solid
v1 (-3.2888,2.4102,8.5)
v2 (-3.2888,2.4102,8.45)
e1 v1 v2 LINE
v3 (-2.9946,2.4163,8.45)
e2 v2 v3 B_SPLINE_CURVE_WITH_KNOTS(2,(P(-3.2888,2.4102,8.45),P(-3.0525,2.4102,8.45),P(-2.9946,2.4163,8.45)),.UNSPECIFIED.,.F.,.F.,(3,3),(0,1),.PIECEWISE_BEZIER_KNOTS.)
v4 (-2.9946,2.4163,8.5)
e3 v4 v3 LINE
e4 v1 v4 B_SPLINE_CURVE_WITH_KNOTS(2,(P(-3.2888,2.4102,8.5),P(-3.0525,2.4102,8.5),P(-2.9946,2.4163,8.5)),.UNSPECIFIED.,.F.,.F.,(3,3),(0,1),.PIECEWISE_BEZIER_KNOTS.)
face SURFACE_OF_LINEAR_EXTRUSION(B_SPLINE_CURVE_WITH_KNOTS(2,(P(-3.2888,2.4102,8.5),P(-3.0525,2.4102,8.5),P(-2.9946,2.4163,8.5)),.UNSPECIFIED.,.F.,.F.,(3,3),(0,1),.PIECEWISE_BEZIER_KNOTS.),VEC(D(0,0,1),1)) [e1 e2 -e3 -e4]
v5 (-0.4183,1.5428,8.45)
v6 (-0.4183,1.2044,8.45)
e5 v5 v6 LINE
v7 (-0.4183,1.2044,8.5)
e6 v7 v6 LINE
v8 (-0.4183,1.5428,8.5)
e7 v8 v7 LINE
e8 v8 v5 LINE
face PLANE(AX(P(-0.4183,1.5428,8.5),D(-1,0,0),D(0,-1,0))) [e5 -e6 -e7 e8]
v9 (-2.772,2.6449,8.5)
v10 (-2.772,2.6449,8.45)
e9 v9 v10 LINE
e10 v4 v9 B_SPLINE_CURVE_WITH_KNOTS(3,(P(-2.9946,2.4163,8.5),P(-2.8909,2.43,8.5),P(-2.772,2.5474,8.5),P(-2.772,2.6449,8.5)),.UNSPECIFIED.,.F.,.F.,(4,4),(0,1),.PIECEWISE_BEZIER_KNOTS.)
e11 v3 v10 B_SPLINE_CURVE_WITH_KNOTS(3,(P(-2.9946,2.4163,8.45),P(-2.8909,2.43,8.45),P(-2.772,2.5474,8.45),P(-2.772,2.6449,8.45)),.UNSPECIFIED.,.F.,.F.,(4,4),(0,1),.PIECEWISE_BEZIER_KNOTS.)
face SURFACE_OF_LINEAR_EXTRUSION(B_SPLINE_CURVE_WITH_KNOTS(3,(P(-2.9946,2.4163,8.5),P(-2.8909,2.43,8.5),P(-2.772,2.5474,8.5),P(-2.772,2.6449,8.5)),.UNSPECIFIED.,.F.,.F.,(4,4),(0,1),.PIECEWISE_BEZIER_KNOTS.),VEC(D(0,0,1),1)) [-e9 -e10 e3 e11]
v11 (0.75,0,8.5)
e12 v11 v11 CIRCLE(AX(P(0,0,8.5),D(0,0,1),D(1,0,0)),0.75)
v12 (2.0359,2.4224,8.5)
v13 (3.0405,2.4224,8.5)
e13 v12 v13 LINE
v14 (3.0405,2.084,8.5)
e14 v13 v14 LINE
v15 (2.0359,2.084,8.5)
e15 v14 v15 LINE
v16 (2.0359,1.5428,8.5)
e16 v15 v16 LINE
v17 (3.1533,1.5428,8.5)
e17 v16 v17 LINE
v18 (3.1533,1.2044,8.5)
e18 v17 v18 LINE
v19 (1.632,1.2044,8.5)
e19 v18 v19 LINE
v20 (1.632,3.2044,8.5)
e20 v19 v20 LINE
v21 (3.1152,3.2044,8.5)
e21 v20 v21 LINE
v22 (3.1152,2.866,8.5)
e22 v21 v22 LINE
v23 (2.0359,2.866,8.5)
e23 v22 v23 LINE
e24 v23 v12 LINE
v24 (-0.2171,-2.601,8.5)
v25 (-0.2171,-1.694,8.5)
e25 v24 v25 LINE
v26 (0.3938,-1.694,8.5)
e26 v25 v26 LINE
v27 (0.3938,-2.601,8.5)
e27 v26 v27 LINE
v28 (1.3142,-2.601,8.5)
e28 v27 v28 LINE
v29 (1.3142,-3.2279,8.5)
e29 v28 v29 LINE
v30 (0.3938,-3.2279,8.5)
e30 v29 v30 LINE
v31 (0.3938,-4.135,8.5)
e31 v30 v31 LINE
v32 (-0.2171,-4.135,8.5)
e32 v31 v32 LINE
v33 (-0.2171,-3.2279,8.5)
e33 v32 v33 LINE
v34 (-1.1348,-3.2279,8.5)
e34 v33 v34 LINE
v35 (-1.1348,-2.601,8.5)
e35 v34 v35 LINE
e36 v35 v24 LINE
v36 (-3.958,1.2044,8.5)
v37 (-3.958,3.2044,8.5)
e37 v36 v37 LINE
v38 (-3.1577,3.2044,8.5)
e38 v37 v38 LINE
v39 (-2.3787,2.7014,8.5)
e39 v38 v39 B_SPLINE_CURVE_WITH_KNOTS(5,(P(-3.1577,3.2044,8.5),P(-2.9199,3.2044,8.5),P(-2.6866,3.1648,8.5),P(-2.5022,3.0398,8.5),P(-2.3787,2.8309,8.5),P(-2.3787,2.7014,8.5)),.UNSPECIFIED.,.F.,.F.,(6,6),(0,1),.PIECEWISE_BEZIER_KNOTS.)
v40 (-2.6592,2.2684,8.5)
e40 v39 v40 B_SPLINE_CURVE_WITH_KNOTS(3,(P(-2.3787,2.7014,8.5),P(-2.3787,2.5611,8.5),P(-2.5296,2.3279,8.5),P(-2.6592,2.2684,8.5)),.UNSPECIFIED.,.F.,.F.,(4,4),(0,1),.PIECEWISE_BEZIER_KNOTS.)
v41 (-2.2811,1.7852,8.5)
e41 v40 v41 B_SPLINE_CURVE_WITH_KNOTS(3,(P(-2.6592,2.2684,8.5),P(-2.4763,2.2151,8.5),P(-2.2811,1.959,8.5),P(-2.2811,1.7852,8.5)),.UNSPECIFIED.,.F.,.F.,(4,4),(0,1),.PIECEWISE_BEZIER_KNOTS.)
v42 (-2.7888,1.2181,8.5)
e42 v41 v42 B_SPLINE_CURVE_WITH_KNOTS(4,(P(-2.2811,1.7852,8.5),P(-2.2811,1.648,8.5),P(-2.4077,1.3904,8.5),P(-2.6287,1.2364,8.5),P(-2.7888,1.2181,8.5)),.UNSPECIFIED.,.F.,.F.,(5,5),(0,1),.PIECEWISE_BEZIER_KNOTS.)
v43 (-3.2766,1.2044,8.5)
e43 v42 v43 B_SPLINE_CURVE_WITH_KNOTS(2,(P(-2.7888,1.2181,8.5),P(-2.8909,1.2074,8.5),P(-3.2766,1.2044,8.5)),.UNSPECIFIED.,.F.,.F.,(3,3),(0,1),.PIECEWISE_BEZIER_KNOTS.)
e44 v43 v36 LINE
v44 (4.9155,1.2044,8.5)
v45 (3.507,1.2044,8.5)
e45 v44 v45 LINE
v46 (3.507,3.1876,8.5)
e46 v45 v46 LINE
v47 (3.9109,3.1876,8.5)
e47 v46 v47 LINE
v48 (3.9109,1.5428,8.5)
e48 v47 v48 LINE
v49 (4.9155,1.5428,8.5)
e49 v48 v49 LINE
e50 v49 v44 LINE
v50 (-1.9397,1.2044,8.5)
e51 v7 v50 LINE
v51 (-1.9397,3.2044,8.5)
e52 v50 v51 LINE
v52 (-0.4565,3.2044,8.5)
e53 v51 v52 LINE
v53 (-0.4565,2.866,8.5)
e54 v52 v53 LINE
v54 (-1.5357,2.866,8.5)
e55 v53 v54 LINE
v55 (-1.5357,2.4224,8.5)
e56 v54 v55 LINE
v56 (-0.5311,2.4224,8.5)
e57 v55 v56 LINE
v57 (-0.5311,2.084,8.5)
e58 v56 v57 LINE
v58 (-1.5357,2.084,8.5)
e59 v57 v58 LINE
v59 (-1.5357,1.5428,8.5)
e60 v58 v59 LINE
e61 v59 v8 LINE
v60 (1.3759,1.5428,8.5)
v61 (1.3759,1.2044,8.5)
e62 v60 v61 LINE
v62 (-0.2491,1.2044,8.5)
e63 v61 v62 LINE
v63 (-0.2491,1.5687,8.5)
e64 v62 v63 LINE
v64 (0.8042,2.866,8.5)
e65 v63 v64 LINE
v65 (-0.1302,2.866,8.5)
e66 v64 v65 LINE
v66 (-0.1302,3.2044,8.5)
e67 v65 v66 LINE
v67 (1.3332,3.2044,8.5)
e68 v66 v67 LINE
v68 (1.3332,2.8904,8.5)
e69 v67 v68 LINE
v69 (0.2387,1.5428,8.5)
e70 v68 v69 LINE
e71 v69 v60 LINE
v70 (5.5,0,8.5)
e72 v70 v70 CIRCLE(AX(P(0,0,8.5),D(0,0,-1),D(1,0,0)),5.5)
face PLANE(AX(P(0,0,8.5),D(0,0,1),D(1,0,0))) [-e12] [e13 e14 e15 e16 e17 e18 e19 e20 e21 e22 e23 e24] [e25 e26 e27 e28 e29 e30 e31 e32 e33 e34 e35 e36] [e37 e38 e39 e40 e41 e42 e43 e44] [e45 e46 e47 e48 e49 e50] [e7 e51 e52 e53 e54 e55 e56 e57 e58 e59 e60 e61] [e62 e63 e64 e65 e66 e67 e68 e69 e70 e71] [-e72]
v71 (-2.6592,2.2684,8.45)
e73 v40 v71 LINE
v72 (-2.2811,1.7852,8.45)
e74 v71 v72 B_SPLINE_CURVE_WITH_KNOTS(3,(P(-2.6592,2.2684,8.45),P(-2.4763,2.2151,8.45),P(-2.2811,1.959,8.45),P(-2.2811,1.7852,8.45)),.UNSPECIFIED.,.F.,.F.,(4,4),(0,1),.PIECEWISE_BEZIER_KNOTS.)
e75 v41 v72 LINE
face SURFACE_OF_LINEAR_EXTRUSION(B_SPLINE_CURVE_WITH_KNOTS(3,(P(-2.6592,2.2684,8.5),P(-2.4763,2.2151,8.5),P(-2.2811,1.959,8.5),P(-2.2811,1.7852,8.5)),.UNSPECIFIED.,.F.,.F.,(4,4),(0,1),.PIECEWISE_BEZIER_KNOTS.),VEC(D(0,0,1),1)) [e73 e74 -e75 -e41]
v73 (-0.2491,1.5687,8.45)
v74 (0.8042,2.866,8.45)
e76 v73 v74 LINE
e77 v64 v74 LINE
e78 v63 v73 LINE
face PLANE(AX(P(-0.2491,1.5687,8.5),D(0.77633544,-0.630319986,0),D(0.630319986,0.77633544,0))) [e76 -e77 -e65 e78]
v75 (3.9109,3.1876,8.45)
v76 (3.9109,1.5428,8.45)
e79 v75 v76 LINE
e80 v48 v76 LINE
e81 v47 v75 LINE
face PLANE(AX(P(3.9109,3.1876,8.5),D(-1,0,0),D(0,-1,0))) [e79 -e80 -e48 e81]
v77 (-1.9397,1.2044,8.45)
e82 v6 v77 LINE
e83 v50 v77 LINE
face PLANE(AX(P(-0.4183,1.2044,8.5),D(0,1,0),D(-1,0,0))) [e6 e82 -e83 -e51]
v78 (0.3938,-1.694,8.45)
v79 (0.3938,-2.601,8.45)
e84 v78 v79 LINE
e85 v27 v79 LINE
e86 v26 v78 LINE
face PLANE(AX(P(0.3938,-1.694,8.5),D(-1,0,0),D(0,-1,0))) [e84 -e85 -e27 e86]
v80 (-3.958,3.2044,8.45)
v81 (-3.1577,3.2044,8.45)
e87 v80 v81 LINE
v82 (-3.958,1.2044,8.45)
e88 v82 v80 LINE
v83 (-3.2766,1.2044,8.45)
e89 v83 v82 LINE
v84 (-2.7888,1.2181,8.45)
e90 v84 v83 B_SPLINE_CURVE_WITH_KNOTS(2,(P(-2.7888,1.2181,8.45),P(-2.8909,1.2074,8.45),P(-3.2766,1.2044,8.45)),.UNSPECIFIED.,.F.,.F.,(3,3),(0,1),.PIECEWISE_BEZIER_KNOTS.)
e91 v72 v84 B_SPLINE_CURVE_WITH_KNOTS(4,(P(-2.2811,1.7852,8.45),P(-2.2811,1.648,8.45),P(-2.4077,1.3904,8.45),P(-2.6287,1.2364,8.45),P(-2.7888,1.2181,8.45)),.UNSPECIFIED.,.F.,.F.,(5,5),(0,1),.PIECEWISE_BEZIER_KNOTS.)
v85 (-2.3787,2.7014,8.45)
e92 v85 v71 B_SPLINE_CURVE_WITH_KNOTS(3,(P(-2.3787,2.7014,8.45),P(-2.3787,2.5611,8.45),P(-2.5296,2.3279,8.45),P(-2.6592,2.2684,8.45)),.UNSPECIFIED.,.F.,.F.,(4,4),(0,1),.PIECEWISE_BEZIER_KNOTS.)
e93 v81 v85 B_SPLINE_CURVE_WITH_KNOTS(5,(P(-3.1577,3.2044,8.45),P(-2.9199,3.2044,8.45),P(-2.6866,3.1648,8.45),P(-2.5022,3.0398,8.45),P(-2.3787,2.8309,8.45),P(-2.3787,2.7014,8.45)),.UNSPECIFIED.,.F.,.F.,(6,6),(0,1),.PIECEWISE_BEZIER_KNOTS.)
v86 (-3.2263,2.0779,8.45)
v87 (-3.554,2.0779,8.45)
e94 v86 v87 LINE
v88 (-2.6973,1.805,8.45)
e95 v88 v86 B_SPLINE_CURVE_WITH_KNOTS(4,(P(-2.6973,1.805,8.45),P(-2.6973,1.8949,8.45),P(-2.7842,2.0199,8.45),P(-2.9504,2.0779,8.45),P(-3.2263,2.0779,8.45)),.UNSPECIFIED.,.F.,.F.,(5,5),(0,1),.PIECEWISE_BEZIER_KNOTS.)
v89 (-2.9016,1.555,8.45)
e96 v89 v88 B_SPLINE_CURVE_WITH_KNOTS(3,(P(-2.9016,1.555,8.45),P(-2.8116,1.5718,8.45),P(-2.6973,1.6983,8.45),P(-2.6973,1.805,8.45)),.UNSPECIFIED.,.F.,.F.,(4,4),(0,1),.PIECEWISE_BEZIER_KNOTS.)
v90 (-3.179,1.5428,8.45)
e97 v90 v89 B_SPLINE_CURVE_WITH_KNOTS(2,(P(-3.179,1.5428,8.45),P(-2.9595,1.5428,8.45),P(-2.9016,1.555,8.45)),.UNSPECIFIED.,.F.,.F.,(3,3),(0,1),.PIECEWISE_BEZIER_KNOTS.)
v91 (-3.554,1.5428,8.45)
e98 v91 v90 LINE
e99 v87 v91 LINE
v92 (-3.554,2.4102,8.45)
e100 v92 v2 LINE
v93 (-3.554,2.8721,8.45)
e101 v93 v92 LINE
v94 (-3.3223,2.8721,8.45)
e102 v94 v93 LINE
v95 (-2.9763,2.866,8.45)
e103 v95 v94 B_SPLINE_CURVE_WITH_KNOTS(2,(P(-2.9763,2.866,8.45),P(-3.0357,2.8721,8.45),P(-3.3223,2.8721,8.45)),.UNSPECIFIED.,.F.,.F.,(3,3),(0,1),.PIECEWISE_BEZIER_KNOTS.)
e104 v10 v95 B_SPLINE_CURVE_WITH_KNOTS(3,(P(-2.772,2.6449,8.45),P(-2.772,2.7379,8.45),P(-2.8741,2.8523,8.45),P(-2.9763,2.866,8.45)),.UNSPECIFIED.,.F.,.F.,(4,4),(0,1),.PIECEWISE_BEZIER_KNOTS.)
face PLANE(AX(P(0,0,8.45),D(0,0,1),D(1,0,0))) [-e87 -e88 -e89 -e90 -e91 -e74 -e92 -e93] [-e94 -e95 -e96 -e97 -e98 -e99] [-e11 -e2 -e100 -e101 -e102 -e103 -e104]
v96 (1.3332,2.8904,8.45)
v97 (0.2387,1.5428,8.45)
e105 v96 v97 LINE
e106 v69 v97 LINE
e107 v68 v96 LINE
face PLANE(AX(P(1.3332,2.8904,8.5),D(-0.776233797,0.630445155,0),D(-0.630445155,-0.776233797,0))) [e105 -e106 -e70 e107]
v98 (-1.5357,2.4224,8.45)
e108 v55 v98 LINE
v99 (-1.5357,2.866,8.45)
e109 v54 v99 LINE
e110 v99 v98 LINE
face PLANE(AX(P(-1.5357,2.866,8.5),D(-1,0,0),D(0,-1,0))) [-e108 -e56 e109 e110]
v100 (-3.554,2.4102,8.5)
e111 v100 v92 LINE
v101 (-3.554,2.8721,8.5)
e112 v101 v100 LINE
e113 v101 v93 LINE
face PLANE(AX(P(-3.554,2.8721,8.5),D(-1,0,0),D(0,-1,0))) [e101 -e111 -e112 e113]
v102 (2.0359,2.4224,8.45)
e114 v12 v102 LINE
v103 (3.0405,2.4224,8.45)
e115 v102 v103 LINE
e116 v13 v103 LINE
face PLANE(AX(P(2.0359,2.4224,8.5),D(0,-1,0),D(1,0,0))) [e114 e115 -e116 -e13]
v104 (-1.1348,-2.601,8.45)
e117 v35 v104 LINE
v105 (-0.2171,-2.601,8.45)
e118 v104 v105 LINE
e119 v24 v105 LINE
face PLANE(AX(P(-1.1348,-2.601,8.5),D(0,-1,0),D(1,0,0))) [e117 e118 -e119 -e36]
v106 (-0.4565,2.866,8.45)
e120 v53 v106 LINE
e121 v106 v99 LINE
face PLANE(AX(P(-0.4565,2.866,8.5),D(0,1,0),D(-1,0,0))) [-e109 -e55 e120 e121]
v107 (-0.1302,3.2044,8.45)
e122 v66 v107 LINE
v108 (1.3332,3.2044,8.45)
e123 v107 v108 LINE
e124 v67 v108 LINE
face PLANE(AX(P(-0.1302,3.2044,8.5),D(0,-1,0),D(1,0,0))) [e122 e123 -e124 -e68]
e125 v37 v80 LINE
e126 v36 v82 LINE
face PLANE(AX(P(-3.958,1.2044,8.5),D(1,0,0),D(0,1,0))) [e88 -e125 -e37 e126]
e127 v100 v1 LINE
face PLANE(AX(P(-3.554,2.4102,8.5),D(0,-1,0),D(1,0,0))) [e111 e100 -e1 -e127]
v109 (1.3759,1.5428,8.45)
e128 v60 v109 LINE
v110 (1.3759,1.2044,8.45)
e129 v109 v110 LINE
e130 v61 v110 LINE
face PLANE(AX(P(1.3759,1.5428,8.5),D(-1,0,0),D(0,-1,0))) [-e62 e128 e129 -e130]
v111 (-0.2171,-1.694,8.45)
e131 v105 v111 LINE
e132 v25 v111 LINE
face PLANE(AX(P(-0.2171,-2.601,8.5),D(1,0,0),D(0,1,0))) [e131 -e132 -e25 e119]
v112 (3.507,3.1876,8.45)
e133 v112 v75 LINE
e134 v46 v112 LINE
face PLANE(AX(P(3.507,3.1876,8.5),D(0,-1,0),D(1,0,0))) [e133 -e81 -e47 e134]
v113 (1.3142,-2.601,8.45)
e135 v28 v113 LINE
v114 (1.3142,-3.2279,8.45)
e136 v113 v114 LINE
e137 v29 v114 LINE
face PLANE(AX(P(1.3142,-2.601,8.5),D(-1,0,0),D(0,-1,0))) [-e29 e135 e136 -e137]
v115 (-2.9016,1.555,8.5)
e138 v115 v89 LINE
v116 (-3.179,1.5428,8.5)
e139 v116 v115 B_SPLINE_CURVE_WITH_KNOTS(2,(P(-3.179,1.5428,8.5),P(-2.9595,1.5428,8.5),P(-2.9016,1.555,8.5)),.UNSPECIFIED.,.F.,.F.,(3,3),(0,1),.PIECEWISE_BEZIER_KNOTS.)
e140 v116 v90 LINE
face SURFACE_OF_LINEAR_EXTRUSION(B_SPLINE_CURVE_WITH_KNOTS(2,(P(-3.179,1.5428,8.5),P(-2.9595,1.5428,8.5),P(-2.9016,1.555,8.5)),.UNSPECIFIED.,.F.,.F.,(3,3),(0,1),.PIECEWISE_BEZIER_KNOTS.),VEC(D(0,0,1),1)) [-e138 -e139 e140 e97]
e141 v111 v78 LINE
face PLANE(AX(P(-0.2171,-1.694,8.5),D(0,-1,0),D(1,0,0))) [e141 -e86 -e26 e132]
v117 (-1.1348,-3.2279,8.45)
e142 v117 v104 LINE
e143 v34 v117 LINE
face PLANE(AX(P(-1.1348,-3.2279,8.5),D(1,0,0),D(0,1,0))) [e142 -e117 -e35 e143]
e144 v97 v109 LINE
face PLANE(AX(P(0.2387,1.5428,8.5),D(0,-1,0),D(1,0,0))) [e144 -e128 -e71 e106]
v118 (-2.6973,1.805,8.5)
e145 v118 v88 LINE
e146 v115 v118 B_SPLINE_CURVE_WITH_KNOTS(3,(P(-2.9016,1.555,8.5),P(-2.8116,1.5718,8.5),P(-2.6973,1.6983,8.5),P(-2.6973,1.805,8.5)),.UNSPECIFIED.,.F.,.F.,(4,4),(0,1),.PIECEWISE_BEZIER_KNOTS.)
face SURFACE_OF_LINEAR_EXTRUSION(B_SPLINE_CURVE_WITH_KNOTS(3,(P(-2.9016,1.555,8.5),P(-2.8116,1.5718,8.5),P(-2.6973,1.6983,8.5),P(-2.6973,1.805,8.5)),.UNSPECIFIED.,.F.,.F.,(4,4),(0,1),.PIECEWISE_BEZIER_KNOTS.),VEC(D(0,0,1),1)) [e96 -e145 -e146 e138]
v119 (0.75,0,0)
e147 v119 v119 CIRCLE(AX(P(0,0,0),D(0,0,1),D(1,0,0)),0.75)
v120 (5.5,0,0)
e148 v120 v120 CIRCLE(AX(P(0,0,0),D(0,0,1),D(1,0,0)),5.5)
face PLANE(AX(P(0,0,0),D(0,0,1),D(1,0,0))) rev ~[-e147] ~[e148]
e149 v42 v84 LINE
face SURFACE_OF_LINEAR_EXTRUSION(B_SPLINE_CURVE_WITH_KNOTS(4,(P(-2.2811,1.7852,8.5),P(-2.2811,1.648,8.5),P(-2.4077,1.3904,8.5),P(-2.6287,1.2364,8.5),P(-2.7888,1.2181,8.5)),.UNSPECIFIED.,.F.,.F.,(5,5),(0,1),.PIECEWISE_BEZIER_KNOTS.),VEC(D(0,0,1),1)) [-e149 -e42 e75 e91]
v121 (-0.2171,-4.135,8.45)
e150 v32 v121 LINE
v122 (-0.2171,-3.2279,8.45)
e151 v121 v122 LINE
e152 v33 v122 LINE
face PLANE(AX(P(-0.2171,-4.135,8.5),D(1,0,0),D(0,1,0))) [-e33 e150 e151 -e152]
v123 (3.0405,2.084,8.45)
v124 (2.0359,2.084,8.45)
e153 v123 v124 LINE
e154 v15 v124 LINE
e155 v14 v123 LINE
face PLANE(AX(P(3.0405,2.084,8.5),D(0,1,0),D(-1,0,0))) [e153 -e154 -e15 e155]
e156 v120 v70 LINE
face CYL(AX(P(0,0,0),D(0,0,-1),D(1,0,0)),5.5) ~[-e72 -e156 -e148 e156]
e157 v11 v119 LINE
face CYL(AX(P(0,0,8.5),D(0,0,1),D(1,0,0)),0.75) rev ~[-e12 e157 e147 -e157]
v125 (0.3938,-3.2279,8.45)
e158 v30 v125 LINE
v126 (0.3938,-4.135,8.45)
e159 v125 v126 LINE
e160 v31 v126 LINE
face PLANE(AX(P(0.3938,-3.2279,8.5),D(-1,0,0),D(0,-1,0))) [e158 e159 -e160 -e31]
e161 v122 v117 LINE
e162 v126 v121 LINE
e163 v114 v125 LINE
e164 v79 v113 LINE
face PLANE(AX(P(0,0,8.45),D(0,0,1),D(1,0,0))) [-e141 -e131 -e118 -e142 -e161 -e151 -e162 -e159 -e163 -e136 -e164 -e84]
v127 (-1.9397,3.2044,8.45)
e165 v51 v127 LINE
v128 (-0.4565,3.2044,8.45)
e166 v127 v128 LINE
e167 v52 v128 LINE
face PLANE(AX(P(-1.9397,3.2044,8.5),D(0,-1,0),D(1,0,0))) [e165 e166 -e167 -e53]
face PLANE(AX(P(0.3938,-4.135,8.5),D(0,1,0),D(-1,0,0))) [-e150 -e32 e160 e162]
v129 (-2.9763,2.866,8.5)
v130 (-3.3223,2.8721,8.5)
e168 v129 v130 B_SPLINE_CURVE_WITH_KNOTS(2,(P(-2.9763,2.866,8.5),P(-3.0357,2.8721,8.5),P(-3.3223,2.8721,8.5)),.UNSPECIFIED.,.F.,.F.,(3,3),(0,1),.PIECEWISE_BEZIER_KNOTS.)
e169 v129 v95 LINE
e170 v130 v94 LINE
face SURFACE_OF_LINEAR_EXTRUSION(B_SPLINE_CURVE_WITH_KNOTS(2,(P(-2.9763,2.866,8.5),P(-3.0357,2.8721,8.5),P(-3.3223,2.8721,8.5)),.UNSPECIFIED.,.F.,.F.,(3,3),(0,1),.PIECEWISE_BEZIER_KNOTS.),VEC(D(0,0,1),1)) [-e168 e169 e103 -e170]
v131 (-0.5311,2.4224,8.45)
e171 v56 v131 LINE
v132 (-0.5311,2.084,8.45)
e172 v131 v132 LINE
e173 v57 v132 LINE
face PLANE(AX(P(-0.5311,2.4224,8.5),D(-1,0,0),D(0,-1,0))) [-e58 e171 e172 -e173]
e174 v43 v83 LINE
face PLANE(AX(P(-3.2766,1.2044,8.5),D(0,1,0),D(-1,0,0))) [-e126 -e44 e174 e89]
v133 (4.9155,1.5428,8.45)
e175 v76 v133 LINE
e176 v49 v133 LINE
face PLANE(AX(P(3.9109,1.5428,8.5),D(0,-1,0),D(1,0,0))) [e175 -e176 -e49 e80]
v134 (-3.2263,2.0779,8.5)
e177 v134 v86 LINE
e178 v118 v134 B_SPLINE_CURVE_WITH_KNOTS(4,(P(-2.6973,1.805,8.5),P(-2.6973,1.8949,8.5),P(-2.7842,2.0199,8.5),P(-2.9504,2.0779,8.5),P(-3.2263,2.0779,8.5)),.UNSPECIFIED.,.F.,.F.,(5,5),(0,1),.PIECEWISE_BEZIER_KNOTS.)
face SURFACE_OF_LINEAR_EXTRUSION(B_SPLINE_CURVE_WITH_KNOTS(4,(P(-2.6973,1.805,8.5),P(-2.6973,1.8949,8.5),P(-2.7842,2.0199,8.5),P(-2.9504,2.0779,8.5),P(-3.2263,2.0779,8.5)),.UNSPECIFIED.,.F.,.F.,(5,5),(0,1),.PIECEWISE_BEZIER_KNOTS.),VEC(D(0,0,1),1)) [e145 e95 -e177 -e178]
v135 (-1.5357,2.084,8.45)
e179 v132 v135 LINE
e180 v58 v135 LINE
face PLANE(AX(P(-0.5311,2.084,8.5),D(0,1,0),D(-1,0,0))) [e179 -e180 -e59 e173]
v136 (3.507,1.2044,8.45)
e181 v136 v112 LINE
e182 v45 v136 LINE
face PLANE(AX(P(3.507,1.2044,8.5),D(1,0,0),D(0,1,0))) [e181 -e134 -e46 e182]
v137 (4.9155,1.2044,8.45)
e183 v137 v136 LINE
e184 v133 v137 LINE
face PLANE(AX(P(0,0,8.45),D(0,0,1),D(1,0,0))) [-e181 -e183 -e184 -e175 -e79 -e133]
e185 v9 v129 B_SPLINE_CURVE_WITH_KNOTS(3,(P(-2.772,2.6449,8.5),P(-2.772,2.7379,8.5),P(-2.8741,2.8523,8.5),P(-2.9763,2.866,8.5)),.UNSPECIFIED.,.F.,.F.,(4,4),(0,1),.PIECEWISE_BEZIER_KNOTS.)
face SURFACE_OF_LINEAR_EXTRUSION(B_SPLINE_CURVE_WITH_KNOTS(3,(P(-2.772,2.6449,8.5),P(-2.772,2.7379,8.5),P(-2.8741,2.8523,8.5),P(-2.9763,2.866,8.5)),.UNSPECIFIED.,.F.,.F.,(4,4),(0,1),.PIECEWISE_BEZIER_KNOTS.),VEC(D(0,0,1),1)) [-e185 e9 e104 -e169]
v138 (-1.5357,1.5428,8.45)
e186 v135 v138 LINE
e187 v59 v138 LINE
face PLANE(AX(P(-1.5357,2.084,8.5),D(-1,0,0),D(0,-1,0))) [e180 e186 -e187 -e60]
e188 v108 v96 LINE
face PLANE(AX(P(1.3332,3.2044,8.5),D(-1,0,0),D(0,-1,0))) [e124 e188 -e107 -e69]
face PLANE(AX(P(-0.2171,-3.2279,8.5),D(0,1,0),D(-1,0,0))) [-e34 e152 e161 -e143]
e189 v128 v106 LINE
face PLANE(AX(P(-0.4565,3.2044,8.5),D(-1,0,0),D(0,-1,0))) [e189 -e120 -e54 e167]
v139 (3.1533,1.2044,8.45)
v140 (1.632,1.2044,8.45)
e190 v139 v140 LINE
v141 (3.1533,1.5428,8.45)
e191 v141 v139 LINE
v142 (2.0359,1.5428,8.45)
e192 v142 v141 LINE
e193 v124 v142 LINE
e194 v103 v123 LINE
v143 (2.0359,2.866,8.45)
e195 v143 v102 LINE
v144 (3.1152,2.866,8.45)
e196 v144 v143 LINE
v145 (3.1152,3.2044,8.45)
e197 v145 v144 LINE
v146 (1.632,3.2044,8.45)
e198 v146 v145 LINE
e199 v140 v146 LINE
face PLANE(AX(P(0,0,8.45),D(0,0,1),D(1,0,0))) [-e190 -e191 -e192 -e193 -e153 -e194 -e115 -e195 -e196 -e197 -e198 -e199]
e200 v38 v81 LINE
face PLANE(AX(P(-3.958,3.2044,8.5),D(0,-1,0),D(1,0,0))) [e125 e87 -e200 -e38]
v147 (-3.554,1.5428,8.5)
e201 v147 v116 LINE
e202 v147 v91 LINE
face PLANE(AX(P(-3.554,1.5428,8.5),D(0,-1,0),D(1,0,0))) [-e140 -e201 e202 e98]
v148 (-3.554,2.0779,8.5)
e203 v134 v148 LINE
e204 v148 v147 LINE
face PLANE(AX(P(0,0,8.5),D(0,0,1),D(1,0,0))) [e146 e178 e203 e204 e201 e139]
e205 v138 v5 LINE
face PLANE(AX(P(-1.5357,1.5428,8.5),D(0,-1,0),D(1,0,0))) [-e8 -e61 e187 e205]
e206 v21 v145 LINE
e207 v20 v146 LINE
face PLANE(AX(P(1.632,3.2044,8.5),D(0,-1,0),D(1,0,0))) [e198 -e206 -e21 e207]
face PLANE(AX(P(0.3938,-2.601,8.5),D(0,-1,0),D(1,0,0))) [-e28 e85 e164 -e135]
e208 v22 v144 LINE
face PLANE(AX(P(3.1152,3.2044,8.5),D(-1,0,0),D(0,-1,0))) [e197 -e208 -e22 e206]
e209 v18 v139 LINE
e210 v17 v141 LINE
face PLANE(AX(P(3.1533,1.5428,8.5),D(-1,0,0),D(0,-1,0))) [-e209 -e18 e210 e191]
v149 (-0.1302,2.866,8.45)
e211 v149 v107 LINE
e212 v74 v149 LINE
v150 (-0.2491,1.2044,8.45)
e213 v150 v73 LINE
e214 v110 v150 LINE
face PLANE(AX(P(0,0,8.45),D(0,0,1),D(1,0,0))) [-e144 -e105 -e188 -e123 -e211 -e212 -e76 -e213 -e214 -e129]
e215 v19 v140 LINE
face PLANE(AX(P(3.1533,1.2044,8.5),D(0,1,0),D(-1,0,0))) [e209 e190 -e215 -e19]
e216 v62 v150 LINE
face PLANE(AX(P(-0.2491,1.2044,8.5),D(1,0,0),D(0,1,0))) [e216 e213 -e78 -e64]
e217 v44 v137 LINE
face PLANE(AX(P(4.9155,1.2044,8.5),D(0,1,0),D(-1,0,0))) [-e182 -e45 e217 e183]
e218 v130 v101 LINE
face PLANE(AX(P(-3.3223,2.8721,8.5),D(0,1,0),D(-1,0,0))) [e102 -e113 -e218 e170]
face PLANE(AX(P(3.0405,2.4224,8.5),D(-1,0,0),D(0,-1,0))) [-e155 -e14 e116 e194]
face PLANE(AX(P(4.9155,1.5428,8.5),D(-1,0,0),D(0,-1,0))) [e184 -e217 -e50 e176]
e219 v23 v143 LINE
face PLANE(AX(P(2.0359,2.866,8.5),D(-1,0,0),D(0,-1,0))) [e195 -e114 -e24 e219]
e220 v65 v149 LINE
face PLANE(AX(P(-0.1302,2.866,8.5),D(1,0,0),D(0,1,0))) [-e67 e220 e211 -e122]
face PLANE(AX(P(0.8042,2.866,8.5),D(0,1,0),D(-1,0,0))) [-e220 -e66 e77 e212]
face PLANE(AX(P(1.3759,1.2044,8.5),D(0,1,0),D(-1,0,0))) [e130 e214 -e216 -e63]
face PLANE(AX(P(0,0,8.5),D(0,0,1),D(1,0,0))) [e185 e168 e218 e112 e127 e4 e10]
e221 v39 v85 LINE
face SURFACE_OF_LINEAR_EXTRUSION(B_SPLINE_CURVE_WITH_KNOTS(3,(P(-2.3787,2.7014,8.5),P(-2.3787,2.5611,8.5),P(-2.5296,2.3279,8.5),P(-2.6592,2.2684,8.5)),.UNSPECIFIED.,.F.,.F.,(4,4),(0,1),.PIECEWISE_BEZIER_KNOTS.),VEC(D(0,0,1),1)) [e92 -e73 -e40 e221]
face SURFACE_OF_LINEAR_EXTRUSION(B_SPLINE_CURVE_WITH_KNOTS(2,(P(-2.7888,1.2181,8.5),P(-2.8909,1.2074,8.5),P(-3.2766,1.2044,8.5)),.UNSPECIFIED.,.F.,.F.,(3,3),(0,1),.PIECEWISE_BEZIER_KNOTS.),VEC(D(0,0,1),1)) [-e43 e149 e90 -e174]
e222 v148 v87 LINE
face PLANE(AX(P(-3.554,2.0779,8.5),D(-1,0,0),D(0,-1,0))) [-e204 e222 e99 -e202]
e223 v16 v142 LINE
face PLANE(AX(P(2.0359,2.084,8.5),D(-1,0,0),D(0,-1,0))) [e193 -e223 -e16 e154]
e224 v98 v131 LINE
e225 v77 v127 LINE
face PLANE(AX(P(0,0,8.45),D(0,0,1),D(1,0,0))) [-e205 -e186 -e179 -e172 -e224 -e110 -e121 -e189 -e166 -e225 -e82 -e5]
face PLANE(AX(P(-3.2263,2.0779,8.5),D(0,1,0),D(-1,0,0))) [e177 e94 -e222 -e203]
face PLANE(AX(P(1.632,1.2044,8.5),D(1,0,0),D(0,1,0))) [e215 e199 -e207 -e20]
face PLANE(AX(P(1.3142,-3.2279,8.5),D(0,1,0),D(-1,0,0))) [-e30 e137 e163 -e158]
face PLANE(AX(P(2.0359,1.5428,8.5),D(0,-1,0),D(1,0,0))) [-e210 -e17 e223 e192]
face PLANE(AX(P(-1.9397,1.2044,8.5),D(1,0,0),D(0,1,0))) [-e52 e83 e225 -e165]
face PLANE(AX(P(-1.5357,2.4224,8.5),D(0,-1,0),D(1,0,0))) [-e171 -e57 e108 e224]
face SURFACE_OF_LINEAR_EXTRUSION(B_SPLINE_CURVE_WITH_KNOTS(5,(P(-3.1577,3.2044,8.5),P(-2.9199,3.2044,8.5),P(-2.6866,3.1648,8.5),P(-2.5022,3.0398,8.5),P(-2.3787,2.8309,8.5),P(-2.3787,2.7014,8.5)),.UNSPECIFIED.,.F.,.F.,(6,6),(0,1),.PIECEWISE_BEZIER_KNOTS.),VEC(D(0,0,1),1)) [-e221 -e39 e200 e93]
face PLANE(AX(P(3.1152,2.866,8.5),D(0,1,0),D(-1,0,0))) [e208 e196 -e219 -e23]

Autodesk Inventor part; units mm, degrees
ref_plane "YZ Plane" through (0, 0, 0) normal (1, 0, 0) x (0, 1, 0)
ref_plane "XZ Plane" through (0, 0, 0) normal (0, 1, 0) x (-1, 0, 0)
ref_plane "XY Plane" through (0, 0, 0) normal (0, 0, 1) x (1, 0, 0)
sketch "Sketch1" plane through (0, 0, 0) normal (0, 0, 1) x (1, 0, 0)
  line L0 (0, 8.8) -> (0, -6.6) projected
  line L1 (-6.6, 0) -> (8.8, 0) projected
  circle A0 centre (0, 0) radius 5.5
  dimension "d0" = 11
extrude "Extrusion1" add sketch "Sketch1" along normal blind 8.5
sketch "Sketch2" plane through (0, 0, 8.5) normal (0, 0, 1) x (1, 0, 0)
  circle A0 centre (0, 0) radius 5.5 projected
  circle A1 centre (0, 0) radius 0.75
  dimension "d3" = 1.5
extrude "Extrusion2" cut sketch "Sketch2" against normal through all contours A1
sketch "Sketch3" plane through (0, 0, 8.5) normal (0, 0, 1) x (1, 0, 0)
  line L0 (-4.1622, 3.2044) -> (11.3317, 3.2044) construction
  line L1 (11.3317, 3.2044) -> (11.3317, -0.2956) construction
  line L2 (11.3317, -0.2956) -> (-4.1622, -0.2956) construction
  line L3 (-4.1622, -0.2956) -> (-4.1622, 3.2044) construction
  line L4 (-1.3375, -1.694) -> (1.5169, -1.694) construction
  line L5 (1.5169, -1.694) -> (1.5169, -4.135) construction
  line L6 (1.5169, -4.135) -> (-1.3375, -4.135) construction
  line L7 (-1.3375, -4.135) -> (-1.3375, -1.694) construction
  line L8 (-3.958, 3.2044) -> (-3.1577, 3.2044)
  spline S0 degree 5 poles (-3.1577, 3.2044) (-2.9199, 3.2044) (-2.6866, 3.1648) (-2.5022, 3.0398) (-2.3787, 2.8309) (-2.3787, 2.7014) knots 0 0 0 0 0 0 1 1 1 1 1 1
  spline S1 degree 3 poles (-2.3787, 2.7014) (-2.3787, 2.5611) (-2.5296, 2.3279) (-2.6592, 2.2684) knots 0 0 0 0 1 1 1 1
  spline S2 degree 3 poles (-2.6592, 2.2684) (-2.4763, 2.2151) (-2.2811, 1.959) (-2.2811, 1.7852) knots 0 0 0 0 1 1 1 1
  spline S3 degree 4 poles (-2.2811, 1.7852) (-2.2811, 1.648) (-2.4077, 1.3904) (-2.6287, 1.2364) (-2.7888, 1.2181) knots 0 0 0 0 0 1 1 1 1 1
  spline S4 degree 2 poles (-2.7888, 1.2181) (-2.8909, 1.2074) (-3.2766, 1.2044) knots 0 0 0 1 1 1
  line L9 (-3.2766, 1.2044) -> (-3.958, 1.2044)
  line L10 (-3.958, 1.2044) -> (-3.958, 3.2044)
  line L11 (-3.554, 2.0779) -> (-3.554, 1.5428)
  line L12 (-3.554, 1.5428) -> (-3.179, 1.5428)
  spline S5 degree 2 poles (-3.179, 1.5428) (-2.9595, 1.5428) (-2.9016, 1.555) knots 0 0 0 1 1 1
  spline S6 degree 3 poles (-2.9016, 1.555) (-2.8116, 1.5718) (-2.6973, 1.6983) (-2.6973, 1.805) knots 0 0 0 0 1 1 1 1
  spline S7 degree 4 poles (-2.6973, 1.805) (-2.6973, 1.8949) (-2.7842, 2.0199) (-2.9504, 2.0779) (-3.2263, 2.0779) knots 0 0 0 0 0 1 1 1 1 1
  line L13 (-3.2263, 2.0779) -> (-3.554, 2.0779)
  line L14 (-3.554, 2.8721) -> (-3.554, 2.4102)
  line L15 (-3.554, 2.4102) -> (-3.2888, 2.4102)
  spline S8 degree 2 poles (-3.2888, 2.4102) (-3.0525, 2.4102) (-2.9946, 2.4163) knots 0 0 0 1 1 1
  spline S9 degree 3 poles (-2.9946, 2.4163) (-2.8909, 2.43) (-2.772, 2.5474) (-2.772, 2.6449) knots 0 0 0 0 1 1 1 1
  spline S10 degree 3 poles (-2.772, 2.6449) (-2.772, 2.7379) (-2.8741, 2.8523) (-2.9763, 2.866) knots 0 0 0 0 1 1 1 1
  spline S11 degree 2 poles (-2.9763, 2.866) (-3.0357, 2.8721) (-3.3223, 2.8721) knots 0 0 0 1 1 1
  line L16 (-3.3223, 2.8721) -> (-3.554, 2.8721)
  line L17 (-1.9397, 1.2044) -> (-1.9397, 3.2044)
  line L18 (-1.9397, 3.2044) -> (-0.4565, 3.2044)
  line L19 (-0.4565, 3.2044) -> (-0.4565, 2.866)
  line L20 (-0.4565, 2.866) -> (-1.5357, 2.866)
  line L21 (-1.5357, 2.866) -> (-1.5357, 2.4224)
  line L22 (-1.5357, 2.4224) -> (-0.5311, 2.4224)
  line L23 (-0.5311, 2.4224) -> (-0.5311, 2.084)
  line L24 (-0.5311, 2.084) -> (-1.5357, 2.084)
  line L25 (-1.5357, 2.084) -> (-1.5357, 1.5428)
  line L26 (-1.5357, 1.5428) -> (-0.4183, 1.5428)
  line L27 (-0.4183, 1.5428) -> (-0.4183, 1.2044)
  line L28 (-0.4183, 1.2044) -> (-1.9397, 1.2044)
  line L29 (-0.2491, 1.2044) -> (-0.2491, 1.5687)
  line L30 (-0.2491, 1.5687) -> (0.8042, 2.866)
  line L31 (0.8042, 2.866) -> (-0.1302, 2.866)
  line L32 (-0.1302, 2.866) -> (-0.1302, 3.2044)
  line L33 (-0.1302, 3.2044) -> (1.3332, 3.2044)
  line L34 (1.3332, 3.2044) -> (1.3332, 2.8904)
  line L35 (1.3332, 2.8904) -> (0.2387, 1.5428)
  line L36 (0.2387, 1.5428) -> (1.3759, 1.5428)
  line L37 (1.3759, 1.5428) -> (1.3759, 1.2044)
  line L38 (1.3759, 1.2044) -> (-0.2491, 1.2044)
  line L39 (1.632, 1.2044) -> (1.632, 3.2044)
  line L40 (1.632, 3.2044) -> (3.1152, 3.2044)
  line L41 (3.1152, 3.2044) -> (3.1152, 2.866)
  line L42 (3.1152, 2.866) -> (2.0359, 2.866)
  line L43 (2.0359, 2.866) -> (2.0359, 2.4224)
  line L44 (2.0359, 2.4224) -> (3.0405, 2.4224)
  line L45 (3.0405, 2.4224) -> (3.0405, 2.084)
  line L46 (3.0405, 2.084) -> (2.0359, 2.084)
  line L47 (2.0359, 2.084) -> (2.0359, 1.5428)
  line L48 (2.0359, 1.5428) -> (3.1533, 1.5428)
  line L49 (3.1533, 1.5428) -> (3.1533, 1.2044)
  line L50 (3.1533, 1.2044) -> (1.632, 1.2044)
  line L51 (3.507, 1.2044) -> (3.507, 3.1876)
  line L52 (3.507, 3.1876) -> (3.9109, 3.1876)
  line L53 (3.9109, 3.1876) -> (3.9109, 1.5428)
  line L54 (3.9109, 1.5428) -> (4.9155, 1.5428)
  line L55 (4.9155, 1.5428) -> (4.9155, 1.2044)
  line L56 (4.9155, 1.2044) -> (3.507, 1.2044)
  line L57 (-0.2171, -4.135) -> (-0.2171, -3.2279)
  line L58 (-0.2171, -3.2279) -> (-1.1348, -3.2279)
  line L59 (-1.1348, -3.2279) -> (-1.1348, -2.601)
  line L60 (-1.1348, -2.601) -> (-0.2171, -2.601)
  line L61 (-0.2171, -2.601) -> (-0.2171, -1.694)
  line L62 (-0.2171, -1.694) -> (0.3938, -1.694)
  line L63 (0.3938, -1.694) -> (0.3938, -2.601)
  line L64 (0.3938, -2.601) -> (1.3142, -2.601)
  line L65 (1.3142, -2.601) -> (1.3142, -3.2279)
  line L66 (1.3142, -3.2279) -> (0.3938, -3.2279)
  line L67 (0.3938, -3.2279) -> (0.3938, -4.135)
  line L68 (0.3938, -4.135) -> (-0.2171, -4.135)
extrude "Extrusion3" cut sketch "Sketch3" against normal blind 0.05
properties part number "config - bezel"
